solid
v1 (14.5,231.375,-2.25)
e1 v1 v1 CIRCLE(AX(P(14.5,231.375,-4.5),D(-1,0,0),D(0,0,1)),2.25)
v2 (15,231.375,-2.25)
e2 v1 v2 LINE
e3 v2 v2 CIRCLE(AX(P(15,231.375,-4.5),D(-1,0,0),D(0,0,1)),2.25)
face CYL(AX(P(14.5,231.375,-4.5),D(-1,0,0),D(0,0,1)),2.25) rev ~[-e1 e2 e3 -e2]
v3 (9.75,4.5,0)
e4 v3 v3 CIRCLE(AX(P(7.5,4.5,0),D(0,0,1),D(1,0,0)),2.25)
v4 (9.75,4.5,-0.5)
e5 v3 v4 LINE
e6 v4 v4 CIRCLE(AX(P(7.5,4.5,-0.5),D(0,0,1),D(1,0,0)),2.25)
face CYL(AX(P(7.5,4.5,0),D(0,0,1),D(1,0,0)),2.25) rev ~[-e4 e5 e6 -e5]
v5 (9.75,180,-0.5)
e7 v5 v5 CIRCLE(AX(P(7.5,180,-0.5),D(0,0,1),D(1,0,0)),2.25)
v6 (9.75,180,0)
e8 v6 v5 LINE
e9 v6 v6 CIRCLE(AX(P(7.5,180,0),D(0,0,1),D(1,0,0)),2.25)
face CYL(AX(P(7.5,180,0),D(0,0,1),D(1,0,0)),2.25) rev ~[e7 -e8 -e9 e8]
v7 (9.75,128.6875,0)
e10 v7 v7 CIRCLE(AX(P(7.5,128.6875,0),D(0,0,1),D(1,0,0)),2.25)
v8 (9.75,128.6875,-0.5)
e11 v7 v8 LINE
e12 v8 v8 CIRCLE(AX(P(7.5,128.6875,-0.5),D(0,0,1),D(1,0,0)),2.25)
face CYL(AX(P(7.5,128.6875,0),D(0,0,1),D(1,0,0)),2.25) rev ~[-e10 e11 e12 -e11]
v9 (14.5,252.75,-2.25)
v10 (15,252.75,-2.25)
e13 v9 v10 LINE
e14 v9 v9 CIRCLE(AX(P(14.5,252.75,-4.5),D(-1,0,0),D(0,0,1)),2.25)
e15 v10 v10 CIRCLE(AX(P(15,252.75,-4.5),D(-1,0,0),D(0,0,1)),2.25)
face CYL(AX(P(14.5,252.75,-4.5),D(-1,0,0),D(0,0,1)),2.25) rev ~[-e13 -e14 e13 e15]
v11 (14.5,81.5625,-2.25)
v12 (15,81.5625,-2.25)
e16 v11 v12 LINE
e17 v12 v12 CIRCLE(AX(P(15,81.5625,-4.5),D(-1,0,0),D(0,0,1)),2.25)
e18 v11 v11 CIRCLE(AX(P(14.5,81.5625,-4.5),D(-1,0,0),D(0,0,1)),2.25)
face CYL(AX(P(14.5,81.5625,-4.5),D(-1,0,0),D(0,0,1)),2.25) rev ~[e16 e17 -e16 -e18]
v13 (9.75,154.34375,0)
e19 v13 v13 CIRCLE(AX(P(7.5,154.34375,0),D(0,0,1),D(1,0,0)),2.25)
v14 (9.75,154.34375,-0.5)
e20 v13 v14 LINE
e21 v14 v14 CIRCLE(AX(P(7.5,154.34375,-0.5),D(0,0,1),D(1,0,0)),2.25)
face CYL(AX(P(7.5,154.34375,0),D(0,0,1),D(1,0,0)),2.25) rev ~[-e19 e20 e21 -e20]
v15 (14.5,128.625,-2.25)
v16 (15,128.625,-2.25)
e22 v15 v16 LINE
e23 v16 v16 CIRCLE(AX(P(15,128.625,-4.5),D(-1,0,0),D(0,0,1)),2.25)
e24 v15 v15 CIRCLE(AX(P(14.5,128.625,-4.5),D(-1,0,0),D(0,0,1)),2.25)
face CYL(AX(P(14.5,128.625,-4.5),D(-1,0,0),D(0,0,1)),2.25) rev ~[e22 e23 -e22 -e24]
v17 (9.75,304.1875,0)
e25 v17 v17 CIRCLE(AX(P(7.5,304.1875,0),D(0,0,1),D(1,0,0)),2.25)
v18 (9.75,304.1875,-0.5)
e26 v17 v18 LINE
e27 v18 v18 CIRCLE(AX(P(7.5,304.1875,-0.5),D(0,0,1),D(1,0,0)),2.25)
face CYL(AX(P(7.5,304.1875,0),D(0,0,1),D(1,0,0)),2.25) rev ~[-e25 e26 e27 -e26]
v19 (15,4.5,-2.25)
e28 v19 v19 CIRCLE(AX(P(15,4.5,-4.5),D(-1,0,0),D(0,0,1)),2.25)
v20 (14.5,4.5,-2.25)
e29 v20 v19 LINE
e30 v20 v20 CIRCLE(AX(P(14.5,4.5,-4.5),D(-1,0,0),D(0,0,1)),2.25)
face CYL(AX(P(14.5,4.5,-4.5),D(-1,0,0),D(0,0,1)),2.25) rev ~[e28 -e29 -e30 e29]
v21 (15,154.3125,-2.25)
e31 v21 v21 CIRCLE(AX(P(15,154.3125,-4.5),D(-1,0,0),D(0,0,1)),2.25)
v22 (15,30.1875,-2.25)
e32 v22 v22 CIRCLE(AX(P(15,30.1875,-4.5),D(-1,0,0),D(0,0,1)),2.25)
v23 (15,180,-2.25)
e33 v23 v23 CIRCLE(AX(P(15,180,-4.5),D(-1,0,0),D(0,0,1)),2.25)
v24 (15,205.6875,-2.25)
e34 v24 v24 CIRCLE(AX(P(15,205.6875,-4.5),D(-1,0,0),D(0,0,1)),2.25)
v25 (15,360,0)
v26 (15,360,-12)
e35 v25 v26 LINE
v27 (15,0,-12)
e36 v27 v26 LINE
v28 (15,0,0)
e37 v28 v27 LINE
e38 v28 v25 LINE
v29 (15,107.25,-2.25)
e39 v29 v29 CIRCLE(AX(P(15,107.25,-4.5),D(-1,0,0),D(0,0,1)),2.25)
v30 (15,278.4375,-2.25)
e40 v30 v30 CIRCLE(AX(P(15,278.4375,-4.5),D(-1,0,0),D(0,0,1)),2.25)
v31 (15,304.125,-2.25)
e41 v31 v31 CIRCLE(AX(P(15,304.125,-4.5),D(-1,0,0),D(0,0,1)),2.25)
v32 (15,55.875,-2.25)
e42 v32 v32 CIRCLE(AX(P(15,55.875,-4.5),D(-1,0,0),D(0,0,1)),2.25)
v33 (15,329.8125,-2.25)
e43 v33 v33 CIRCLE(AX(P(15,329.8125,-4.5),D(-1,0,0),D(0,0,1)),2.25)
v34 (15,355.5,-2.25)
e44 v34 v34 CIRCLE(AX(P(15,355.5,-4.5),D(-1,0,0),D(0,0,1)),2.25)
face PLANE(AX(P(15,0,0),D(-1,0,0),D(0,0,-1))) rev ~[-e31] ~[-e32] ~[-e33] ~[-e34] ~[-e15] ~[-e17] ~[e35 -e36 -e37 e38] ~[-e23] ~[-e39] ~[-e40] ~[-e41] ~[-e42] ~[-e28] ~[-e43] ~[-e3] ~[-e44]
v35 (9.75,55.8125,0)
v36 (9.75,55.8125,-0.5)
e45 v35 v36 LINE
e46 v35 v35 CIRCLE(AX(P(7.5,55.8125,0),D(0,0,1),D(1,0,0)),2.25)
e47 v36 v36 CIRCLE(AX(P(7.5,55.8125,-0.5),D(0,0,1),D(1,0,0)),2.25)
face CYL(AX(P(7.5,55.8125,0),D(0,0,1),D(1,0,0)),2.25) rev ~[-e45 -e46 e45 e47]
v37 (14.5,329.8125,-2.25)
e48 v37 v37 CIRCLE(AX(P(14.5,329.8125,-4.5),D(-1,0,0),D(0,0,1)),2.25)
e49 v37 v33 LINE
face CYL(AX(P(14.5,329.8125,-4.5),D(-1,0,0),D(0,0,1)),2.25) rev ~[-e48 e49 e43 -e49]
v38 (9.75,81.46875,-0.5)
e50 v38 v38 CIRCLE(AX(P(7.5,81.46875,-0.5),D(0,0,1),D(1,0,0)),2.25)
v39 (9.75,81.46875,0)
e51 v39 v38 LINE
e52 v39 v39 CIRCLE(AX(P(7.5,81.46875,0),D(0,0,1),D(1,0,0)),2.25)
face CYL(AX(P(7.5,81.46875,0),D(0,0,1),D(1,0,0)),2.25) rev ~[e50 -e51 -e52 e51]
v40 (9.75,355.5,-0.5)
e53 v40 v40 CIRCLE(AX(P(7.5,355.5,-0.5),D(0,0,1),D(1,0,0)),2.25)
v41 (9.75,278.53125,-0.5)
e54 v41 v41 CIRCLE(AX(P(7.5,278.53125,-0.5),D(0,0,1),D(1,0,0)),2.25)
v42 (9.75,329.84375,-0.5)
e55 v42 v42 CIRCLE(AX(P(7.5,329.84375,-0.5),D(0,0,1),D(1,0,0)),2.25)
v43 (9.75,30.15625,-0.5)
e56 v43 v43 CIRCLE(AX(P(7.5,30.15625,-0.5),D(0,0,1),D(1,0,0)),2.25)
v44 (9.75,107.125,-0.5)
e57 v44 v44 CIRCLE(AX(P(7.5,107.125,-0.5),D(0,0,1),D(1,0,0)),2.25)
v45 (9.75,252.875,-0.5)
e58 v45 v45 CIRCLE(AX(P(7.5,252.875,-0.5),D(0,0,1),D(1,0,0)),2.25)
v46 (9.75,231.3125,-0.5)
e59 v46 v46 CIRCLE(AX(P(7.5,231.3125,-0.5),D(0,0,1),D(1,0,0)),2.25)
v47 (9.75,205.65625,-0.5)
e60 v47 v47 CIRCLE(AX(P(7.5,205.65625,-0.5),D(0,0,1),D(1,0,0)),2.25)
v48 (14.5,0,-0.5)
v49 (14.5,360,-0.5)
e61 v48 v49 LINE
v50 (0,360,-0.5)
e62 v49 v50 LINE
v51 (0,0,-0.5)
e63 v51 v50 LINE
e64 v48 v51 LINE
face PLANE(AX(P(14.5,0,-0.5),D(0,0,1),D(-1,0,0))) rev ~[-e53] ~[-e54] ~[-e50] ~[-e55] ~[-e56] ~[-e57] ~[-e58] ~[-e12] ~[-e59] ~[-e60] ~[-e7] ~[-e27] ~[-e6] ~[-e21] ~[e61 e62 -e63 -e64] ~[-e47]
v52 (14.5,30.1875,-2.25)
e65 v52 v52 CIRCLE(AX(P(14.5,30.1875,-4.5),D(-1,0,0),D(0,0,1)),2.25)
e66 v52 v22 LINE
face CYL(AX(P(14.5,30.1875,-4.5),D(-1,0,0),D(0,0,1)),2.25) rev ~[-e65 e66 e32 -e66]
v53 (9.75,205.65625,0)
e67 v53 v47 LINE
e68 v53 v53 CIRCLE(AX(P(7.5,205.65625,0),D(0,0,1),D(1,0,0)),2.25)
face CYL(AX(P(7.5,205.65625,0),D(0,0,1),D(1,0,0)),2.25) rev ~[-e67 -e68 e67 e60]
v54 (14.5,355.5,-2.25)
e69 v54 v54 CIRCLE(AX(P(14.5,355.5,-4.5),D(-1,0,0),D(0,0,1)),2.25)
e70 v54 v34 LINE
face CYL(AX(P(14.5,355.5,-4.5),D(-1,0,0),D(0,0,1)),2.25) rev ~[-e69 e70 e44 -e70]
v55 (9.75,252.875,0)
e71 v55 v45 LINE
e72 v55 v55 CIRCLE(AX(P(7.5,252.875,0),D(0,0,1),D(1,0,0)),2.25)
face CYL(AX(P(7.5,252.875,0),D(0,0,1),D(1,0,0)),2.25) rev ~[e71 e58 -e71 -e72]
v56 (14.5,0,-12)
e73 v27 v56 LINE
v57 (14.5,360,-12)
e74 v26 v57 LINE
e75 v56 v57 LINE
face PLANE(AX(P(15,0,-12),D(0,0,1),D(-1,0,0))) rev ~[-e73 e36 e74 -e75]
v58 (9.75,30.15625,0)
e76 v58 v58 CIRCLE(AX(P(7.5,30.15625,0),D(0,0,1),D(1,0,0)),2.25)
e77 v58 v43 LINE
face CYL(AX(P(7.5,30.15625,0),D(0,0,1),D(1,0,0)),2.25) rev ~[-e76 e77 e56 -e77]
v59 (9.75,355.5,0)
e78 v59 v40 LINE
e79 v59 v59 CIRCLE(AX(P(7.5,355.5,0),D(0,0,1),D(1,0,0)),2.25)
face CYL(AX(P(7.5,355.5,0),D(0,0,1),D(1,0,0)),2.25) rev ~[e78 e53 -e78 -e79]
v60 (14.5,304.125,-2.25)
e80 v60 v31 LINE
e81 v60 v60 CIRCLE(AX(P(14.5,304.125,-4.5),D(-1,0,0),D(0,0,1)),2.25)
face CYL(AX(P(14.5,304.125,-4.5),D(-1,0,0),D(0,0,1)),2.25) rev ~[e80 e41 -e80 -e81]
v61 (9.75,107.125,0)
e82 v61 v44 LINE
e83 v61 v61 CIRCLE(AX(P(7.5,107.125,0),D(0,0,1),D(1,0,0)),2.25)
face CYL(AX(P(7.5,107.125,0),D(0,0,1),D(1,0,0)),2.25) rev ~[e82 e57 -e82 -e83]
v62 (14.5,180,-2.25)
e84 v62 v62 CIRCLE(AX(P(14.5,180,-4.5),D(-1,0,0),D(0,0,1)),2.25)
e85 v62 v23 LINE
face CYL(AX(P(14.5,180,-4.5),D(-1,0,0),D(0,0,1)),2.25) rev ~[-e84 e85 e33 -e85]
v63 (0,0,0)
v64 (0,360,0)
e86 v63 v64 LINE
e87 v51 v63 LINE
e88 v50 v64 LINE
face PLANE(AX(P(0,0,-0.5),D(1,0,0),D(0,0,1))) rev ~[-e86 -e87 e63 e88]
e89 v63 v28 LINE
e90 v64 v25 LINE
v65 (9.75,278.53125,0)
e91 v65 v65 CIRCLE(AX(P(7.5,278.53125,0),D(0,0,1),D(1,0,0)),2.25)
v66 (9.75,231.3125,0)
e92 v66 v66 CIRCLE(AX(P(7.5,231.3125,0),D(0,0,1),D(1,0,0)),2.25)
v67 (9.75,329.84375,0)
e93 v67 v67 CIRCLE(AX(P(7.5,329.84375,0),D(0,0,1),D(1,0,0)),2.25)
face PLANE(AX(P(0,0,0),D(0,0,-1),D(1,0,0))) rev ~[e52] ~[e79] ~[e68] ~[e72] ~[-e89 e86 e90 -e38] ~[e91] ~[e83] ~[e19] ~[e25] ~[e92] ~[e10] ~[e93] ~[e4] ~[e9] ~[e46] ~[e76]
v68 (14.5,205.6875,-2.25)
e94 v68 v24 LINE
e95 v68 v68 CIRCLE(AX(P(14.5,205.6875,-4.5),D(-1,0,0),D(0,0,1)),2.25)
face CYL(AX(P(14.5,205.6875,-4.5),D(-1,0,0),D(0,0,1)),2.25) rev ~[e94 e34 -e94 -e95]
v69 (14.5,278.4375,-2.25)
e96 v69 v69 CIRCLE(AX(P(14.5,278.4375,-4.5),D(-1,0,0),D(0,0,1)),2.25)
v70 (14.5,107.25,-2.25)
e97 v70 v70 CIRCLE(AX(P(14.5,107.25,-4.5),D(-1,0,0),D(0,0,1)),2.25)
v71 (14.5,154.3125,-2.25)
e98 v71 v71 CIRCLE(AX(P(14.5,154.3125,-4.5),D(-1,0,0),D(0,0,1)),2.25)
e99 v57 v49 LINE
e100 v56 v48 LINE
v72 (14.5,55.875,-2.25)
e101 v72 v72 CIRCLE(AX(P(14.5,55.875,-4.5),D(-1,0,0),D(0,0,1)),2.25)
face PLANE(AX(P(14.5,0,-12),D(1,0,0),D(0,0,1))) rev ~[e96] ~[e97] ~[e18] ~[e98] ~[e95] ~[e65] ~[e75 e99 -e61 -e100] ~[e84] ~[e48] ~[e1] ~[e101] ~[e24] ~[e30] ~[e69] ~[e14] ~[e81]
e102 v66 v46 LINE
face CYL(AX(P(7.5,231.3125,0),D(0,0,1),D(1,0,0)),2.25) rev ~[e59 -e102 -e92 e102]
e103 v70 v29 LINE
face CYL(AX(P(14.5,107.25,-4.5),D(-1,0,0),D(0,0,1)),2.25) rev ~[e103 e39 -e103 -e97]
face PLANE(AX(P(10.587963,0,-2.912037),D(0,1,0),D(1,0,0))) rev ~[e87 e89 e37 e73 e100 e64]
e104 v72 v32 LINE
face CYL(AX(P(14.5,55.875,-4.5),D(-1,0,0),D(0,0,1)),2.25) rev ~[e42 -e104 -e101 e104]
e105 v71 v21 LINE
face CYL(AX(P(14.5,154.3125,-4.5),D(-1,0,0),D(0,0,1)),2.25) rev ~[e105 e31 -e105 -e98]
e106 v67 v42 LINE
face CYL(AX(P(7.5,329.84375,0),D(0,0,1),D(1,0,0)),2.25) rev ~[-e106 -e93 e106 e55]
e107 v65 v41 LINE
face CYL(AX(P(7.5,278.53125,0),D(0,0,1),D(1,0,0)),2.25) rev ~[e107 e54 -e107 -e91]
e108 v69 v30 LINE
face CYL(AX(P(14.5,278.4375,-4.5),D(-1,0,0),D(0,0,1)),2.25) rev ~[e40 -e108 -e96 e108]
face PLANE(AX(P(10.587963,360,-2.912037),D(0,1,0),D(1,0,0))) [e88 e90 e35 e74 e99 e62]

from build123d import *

# Parameters (mm, degrees)
BOSS_EXTRUDE1_DEPTH = 360
CUT_EXTRUDE1_REACH  = 2.5
SKETCH2_R           = 2.25
CUT_EXTRUDE2_REACH  = 14
SKETCH3_R           = 2.25


with BuildPart() as part:
    # Sketch1 → Boss-Extrude1 (new body)
    with BuildSketch(Plane(origin=(0, 0, 0), x_dir=(1, 0, 0), z_dir=(0, 1, 0))):
        Polygon((0, 0), (15, 0), (15, 12), (14.5, 12), (14.5, 0.5), (0, 0.5), align=None)
    extrude(amount=BOSS_EXTRUDE1_DEPTH)

    # Sketch2 → Cut-Extrude1 (cut, up to next)
    with BuildSketch(Plane.ZY.offset(-14.5), mode=Mode.PRIVATE) as cut_extrude1_sk1:
        with Locations((-4.5, 355.5)):
            Circle(SKETCH2_R)
    cut_extrude1_tool1 = extrude(cut_extrude1_sk1.sketch, amount=-CUT_EXTRUDE1_REACH, mode=Mode.PRIVATE) & part.part
    add(cut_extrude1_tool1.solids().sort_by_distance((14.5, 355.5, -4.5))[0], mode=Mode.SUBTRACT)
    # Sketch2 → Cut-Extrude1 (cut, up to next)
    with BuildSketch(Plane.ZY.offset(-14.5), mode=Mode.PRIVATE) as cut_extrude1_sk2:
        with Locations((-4.5, 329.8125)):
            Circle(SKETCH2_R)
    cut_extrude1_tool2 = extrude(cut_extrude1_sk2.sketch, amount=-CUT_EXTRUDE1_REACH, mode=Mode.PRIVATE) & part.part
    add(cut_extrude1_tool2.solids().sort_by_distance((14.5, 329.8125, -4.5))[0], mode=Mode.SUBTRACT)
    # Sketch2 → Cut-Extrude1 (cut, up to next)
    with BuildSketch(Plane.ZY.offset(-14.5), mode=Mode.PRIVATE) as cut_extrude1_sk3:
        with Locations((-4.5, 304.125)):
            Circle(SKETCH2_R)
    cut_extrude1_tool3 = extrude(cut_extrude1_sk3.sketch, amount=-CUT_EXTRUDE1_REACH, mode=Mode.PRIVATE) & part.part
    add(cut_extrude1_tool3.solids().sort_by_distance((14.5, 304.125, -4.5))[0], mode=Mode.SUBTRACT)
    # Sketch2 → Cut-Extrude1 (cut, up to next)
    with BuildSketch(Plane.ZY.offset(-14.5), mode=Mode.PRIVATE) as cut_extrude1_sk4:
        with Locations((-4.5, 278.4375)):
            Circle(SKETCH2_R)
    cut_extrude1_tool4 = extrude(cut_extrude1_sk4.sketch, amount=-CUT_EXTRUDE1_REACH, mode=Mode.PRIVATE) & part.part
    add(cut_extrude1_tool4.solids().sort_by_distance((14.5, 278.4375, -4.5))[0], mode=Mode.SUBTRACT)
    # Sketch2 → Cut-Extrude1 (cut, up to next)
    with BuildSketch(Plane.ZY.offset(-14.5), mode=Mode.PRIVATE) as cut_extrude1_sk5:
        with Locations((-4.5, 252.75)):
            Circle(SKETCH2_R)
    cut_extrude1_tool5 = extrude(cut_extrude1_sk5.sketch, amount=-CUT_EXTRUDE1_REACH, mode=Mode.PRIVATE) & part.part
    add(cut_extrude1_tool5.solids().sort_by_distance((14.5, 252.75, -4.5))[0], mode=Mode.SUBTRACT)
    # Sketch2 → Cut-Extrude1 (cut, up to next)
    with BuildSketch(Plane.ZY.offset(-14.5), mode=Mode.PRIVATE) as cut_extrude1_sk6:
        with Locations((-4.5, 231.375)):
            Circle(SKETCH2_R)
    cut_extrude1_tool6 = extrude(cut_extrude1_sk6.sketch, amount=-CUT_EXTRUDE1_REACH, mode=Mode.PRIVATE) & part.part
    add(cut_extrude1_tool6.solids().sort_by_distance((14.5, 231.375, -4.5))[0], mode=Mode.SUBTRACT)
    # Sketch2 → Cut-Extrude1 (cut, up to next)
    with BuildSketch(Plane.ZY.offset(-14.5), mode=Mode.PRIVATE) as cut_extrude1_sk7:
        with Locations((-4.5, 205.6875)):
            Circle(SKETCH2_R)
    cut_extrude1_tool7 = extrude(cut_extrude1_sk7.sketch, amount=-CUT_EXTRUDE1_REACH, mode=Mode.PRIVATE) & part.part
    add(cut_extrude1_tool7.solids().sort_by_distance((14.5, 205.6875, -4.5))[0], mode=Mode.SUBTRACT)
    # Sketch2 → Cut-Extrude1 (cut, up to next)
    with BuildSketch(Plane.ZY.offset(-14.5), mode=Mode.PRIVATE) as cut_extrude1_sk8:
        with Locations((-4.5, 180)):
            Circle(SKETCH2_R)
    cut_extrude1_tool8 = extrude(cut_extrude1_sk8.sketch, amount=-CUT_EXTRUDE1_REACH, mode=Mode.PRIVATE) & part.part
    add(cut_extrude1_tool8.solids().sort_by_distance((14.5, 180, -4.5))[0], mode=Mode.SUBTRACT)
    # Sketch2 → Cut-Extrude1 (cut, up to next)
    with BuildSketch(Plane.ZY.offset(-14.5), mode=Mode.PRIVATE) as cut_extrude1_sk9:
        with Locations((-4.5, 154.3125)):
            Circle(SKETCH2_R)
    cut_extrude1_tool9 = extrude(cut_extrude1_sk9.sketch, amount=-CUT_EXTRUDE1_REACH, mode=Mode.PRIVATE) & part.part
    add(cut_extrude1_tool9.solids().sort_by_distance((14.5, 154.3125, -4.5))[0], mode=Mode.SUBTRACT)
    # Sketch2 → Cut-Extrude1 (cut, up to next)
    with BuildSketch(Plane.ZY.offset(-14.5), mode=Mode.PRIVATE) as cut_extrude1_sk10:
        with Locations((-4.5, 128.625)):
            Circle(SKETCH2_R)
    cut_extrude1_tool10 = extrude(cut_extrude1_sk10.sketch, amount=-CUT_EXTRUDE1_REACH, mode=Mode.PRIVATE) & part.part
    add(cut_extrude1_tool10.solids().sort_by_distance((14.5, 128.625, -4.5))[0], mode=Mode.SUBTRACT)
    # Sketch2 → Cut-Extrude1 (cut, up to next)
    with BuildSketch(Plane.ZY.offset(-14.5), mode=Mode.PRIVATE) as cut_extrude1_sk11:
        with Locations((-4.5, 107.25)):
            Circle(SKETCH2_R)
    cut_extrude1_tool11 = extrude(cut_extrude1_sk11.sketch, amount=-CUT_EXTRUDE1_REACH, mode=Mode.PRIVATE) & part.part
    add(cut_extrude1_tool11.solids().sort_by_distance((14.5, 107.25, -4.5))[0], mode=Mode.SUBTRACT)
    # Sketch2 → Cut-Extrude1 (cut, up to next)
    with BuildSketch(Plane.ZY.offset(-14.5), mode=Mode.PRIVATE) as cut_extrude1_sk12:
        with Locations((-4.5, 81.5625)):
            Circle(SKETCH2_R)
    cut_extrude1_tool12 = extrude(cut_extrude1_sk12.sketch, amount=-CUT_EXTRUDE1_REACH, mode=Mode.PRIVATE) & part.part
    add(cut_extrude1_tool12.solids().sort_by_distance((14.5, 81.5625, -4.5))[0], mode=Mode.SUBTRACT)
    # Sketch2 → Cut-Extrude1 (cut, up to next)
    with BuildSketch(Plane.ZY.offset(-14.5), mode=Mode.PRIVATE) as cut_extrude1_sk13:
        with Locations((-4.5, 55.875)):
            Circle(SKETCH2_R)
    cut_extrude1_tool13 = extrude(cut_extrude1_sk13.sketch, amount=-CUT_EXTRUDE1_REACH, mode=Mode.PRIVATE) & part.part
    add(cut_extrude1_tool13.solids().sort_by_distance((14.5, 55.875, -4.5))[0], mode=Mode.SUBTRACT)
    # Sketch2 → Cut-Extrude1 (cut, up to next)
    with BuildSketch(Plane.ZY.offset(-14.5), mode=Mode.PRIVATE) as cut_extrude1_sk14:
        with Locations((-4.5, 30.1875)):
            Circle(SKETCH2_R)
    cut_extrude1_tool14 = extrude(cut_extrude1_sk14.sketch, amount=-CUT_EXTRUDE1_REACH, mode=Mode.PRIVATE) & part.part
    add(cut_extrude1_tool14.solids().sort_by_distance((14.5, 30.1875, -4.5))[0], mode=Mode.SUBTRACT)
    # Sketch2 → Cut-Extrude1 (cut, up to next)
    with BuildSketch(Plane.ZY.offset(-14.5), mode=Mode.PRIVATE) as cut_extrude1_sk15:
        with Locations((-4.5, 4.5)):
            Circle(SKETCH2_R)
    cut_extrude1_tool15 = extrude(cut_extrude1_sk15.sketch, amount=-CUT_EXTRUDE1_REACH, mode=Mode.PRIVATE) & part.part
    add(cut_extrude1_tool15.solids().sort_by_distance((14.5, 4.5, -4.5))[0], mode=Mode.SUBTRACT)

    # Sketch3 → Cut-Extrude2 (cut, up to next)
    with BuildSketch(Plane.XY, mode=Mode.PRIVATE) as cut_extrude2_sk1:
        with Locations((7.5, 355.5)):
            Circle(SKETCH3_R)
    cut_extrude2_tool1 = extrude(cut_extrude2_sk1.sketch, amount=-CUT_EXTRUDE2_REACH, mode=Mode.PRIVATE) & part.part
    add(cut_extrude2_tool1.solids().sort_by_distance((7.5, 355.5, 0))[0], mode=Mode.SUBTRACT)
    # Sketch3 → Cut-Extrude2 (cut, up to next)
    with BuildSketch(Plane.XY, mode=Mode.PRIVATE) as cut_extrude2_sk2:
        with Locations((7.5, 329.84375)):
            Circle(SKETCH3_R)
    cut_extrude2_tool2 = extrude(cut_extrude2_sk2.sketch, amount=-CUT_EXTRUDE2_REACH, mode=Mode.PRIVATE) & part.part
    add(cut_extrude2_tool2.solids().sort_by_distance((7.5, 329.84375, 0))[0], mode=Mode.SUBTRACT)
    # Sketch3 → Cut-Extrude2 (cut, up to next)
    with BuildSketch(Plane.XY, mode=Mode.PRIVATE) as cut_extrude2_sk3:
        with Locations((7.5, 304.1875)):
            Circle(SKETCH3_R)
    cut_extrude2_tool3 = extrude(cut_extrude2_sk3.sketch, amount=-CUT_EXTRUDE2_REACH, mode=Mode.PRIVATE) & part.part
    add(cut_extrude2_tool3.solids().sort_by_distance((7.5, 304.1875, 0))[0], mode=Mode.SUBTRACT)
    # Sketch3 → Cut-Extrude2 (cut, up to next)
    with BuildSketch(Plane.XY, mode=Mode.PRIVATE) as cut_extrude2_sk4:
        with Locations((7.5, 278.53125)):
            Circle(SKETCH3_R)
    cut_extrude2_tool4 = extrude(cut_extrude2_sk4.sketch, amount=-CUT_EXTRUDE2_REACH, mode=Mode.PRIVATE) & part.part
    add(cut_extrude2_tool4.solids().sort_by_distance((7.5, 278.53125, 0))[0], mode=Mode.SUBTRACT)
    # Sketch3 → Cut-Extrude2 (cut, up to next)
    with BuildSketch(Plane.XY, mode=Mode.PRIVATE) as cut_extrude2_sk5:
        with Locations((7.5, 252.875)):
            Circle(SKETCH3_R)
    cut_extrude2_tool5 = extrude(cut_extrude2_sk5.sketch, amount=-CUT_EXTRUDE2_REACH, mode=Mode.PRIVATE) & part.part
    add(cut_extrude2_tool5.solids().sort_by_distance((7.5, 252.875, 0))[0], mode=Mode.SUBTRACT)
    # Sketch3 → Cut-Extrude2 (cut, up to next)
    with BuildSketch(Plane.XY, mode=Mode.PRIVATE) as cut_extrude2_sk6:
        with Locations((7.5, 231.3125)):
            Circle(SKETCH3_R)
    cut_extrude2_tool6 = extrude(cut_extrude2_sk6.sketch, amount=-CUT_EXTRUDE2_REACH, mode=Mode.PRIVATE) & part.part
    add(cut_extrude2_tool6.solids().sort_by_distance((7.5, 231.3125, 0))[0], mode=Mode.SUBTRACT)
    # Sketch3 → Cut-Extrude2 (cut, up to next)
    with BuildSketch(Plane.XY, mode=Mode.PRIVATE) as cut_extrude2_sk7:
        with Locations((7.5, 205.65625)):
            Circle(SKETCH3_R)
    cut_extrude2_tool7 = extrude(cut_extrude2_sk7.sketch, amount=-CUT_EXTRUDE2_REACH, mode=Mode.PRIVATE) & part.part
    add(cut_extrude2_tool7.solids().sort_by_distance((7.5, 205.65625, 0))[0], mode=Mode.SUBTRACT)
    # Sketch3 → Cut-Extrude2 (cut, up to next)
    with BuildSketch(Plane.XY, mode=Mode.PRIVATE) as cut_extrude2_sk8:
        with Locations((7.5, 180)):
            Circle(SKETCH3_R)
    cut_extrude2_tool8 = extrude(cut_extrude2_sk8.sketch, amount=-CUT_EXTRUDE2_REACH, mode=Mode.PRIVATE) & part.part
    add(cut_extrude2_tool8.solids().sort_by_distance((7.5, 180, 0))[0], mode=Mode.SUBTRACT)
    # Sketch3 → Cut-Extrude2 (cut, up to next)
    with BuildSketch(Plane.XY, mode=Mode.PRIVATE) as cut_extrude2_sk9:
        with Locations((7.5, 154.34375)):
            Circle(SKETCH3_R)
    cut_extrude2_tool9 = extrude(cut_extrude2_sk9.sketch, amount=-CUT_EXTRUDE2_REACH, mode=Mode.PRIVATE) & part.part
    add(cut_extrude2_tool9.solids().sort_by_distance((7.5, 154.34375, 0))[0], mode=Mode.SUBTRACT)
    # Sketch3 → Cut-Extrude2 (cut, up to next)
    with BuildSketch(Plane.XY, mode=Mode.PRIVATE) as cut_extrude2_sk10:
        with Locations((7.5, 128.6875)):
            Circle(SKETCH3_R)
    cut_extrude2_tool10 = extrude(cut_extrude2_sk10.sketch, amount=-CUT_EXTRUDE2_REACH, mode=Mode.PRIVATE) & part.part
    add(cut_extrude2_tool10.solids().sort_by_distance((7.5, 128.6875, 0))[0], mode=Mode.SUBTRACT)
    # Sketch3 → Cut-Extrude2 (cut, up to next)
    with BuildSketch(Plane.XY, mode=Mode.PRIVATE) as cut_extrude2_sk11:
        with Locations((7.5, 107.125)):
            Circle(SKETCH3_R)
    cut_extrude2_tool11 = extrude(cut_extrude2_sk11.sketch, amount=-CUT_EXTRUDE2_REACH, mode=Mode.PRIVATE) & part.part
    add(cut_extrude2_tool11.solids().sort_by_distance((7.5, 107.125, 0))[0], mode=Mode.SUBTRACT)
    # Sketch3 → Cut-Extrude2 (cut, up to next)
    with BuildSketch(Plane.XY, mode=Mode.PRIVATE) as cut_extrude2_sk12:
        with Locations((7.5, 81.46875)):
            Circle(SKETCH3_R)
    cut_extrude2_tool12 = extrude(cut_extrude2_sk12.sketch, amount=-CUT_EXTRUDE2_REACH, mode=Mode.PRIVATE) & part.part
    add(cut_extrude2_tool12.solids().sort_by_distance((7.5, 81.46875, 0))[0], mode=Mode.SUBTRACT)
    # Sketch3 → Cut-Extrude2 (cut, up to next)
    with BuildSketch(Plane.XY, mode=Mode.PRIVATE) as cut_extrude2_sk13:
        with Locations((7.5, 55.8125)):
            Circle(SKETCH3_R)
    cut_extrude2_tool13 = extrude(cut_extrude2_sk13.sketch, amount=-CUT_EXTRUDE2_REACH, mode=Mode.PRIVATE) & part.part
    add(cut_extrude2_tool13.solids().sort_by_distance((7.5, 55.8125, 0))[0], mode=Mode.SUBTRACT)
    # Sketch3 → Cut-Extrude2 (cut, up to next)
    with BuildSketch(Plane.XY, mode=Mode.PRIVATE) as cut_extrude2_sk14:
        with Locations((7.5, 30.15625)):
            Circle(SKETCH3_R)
    cut_extrude2_tool14 = extrude(cut_extrude2_sk14.sketch, amount=-CUT_EXTRUDE2_REACH, mode=Mode.PRIVATE) & part.part
    add(cut_extrude2_tool14.solids().sort_by_distance((7.5, 30.15625, 0))[0], mode=Mode.SUBTRACT)
    # Sketch3 → Cut-Extrude2 (cut, up to next)
    with BuildSketch(Plane.XY, mode=Mode.PRIVATE) as cut_extrude2_sk15:
        with Locations((7.5, 4.5)):
            Circle(SKETCH3_R)
    cut_extrude2_tool15 = extrude(cut_extrude2_sk15.sketch, amount=-CUT_EXTRUDE2_REACH, mode=Mode.PRIVATE) & part.part
    add(cut_extrude2_tool15.solids().sort_by_distance((7.5, 4.5, 0))[0], mode=Mode.SUBTRACT)


solid = part.part
